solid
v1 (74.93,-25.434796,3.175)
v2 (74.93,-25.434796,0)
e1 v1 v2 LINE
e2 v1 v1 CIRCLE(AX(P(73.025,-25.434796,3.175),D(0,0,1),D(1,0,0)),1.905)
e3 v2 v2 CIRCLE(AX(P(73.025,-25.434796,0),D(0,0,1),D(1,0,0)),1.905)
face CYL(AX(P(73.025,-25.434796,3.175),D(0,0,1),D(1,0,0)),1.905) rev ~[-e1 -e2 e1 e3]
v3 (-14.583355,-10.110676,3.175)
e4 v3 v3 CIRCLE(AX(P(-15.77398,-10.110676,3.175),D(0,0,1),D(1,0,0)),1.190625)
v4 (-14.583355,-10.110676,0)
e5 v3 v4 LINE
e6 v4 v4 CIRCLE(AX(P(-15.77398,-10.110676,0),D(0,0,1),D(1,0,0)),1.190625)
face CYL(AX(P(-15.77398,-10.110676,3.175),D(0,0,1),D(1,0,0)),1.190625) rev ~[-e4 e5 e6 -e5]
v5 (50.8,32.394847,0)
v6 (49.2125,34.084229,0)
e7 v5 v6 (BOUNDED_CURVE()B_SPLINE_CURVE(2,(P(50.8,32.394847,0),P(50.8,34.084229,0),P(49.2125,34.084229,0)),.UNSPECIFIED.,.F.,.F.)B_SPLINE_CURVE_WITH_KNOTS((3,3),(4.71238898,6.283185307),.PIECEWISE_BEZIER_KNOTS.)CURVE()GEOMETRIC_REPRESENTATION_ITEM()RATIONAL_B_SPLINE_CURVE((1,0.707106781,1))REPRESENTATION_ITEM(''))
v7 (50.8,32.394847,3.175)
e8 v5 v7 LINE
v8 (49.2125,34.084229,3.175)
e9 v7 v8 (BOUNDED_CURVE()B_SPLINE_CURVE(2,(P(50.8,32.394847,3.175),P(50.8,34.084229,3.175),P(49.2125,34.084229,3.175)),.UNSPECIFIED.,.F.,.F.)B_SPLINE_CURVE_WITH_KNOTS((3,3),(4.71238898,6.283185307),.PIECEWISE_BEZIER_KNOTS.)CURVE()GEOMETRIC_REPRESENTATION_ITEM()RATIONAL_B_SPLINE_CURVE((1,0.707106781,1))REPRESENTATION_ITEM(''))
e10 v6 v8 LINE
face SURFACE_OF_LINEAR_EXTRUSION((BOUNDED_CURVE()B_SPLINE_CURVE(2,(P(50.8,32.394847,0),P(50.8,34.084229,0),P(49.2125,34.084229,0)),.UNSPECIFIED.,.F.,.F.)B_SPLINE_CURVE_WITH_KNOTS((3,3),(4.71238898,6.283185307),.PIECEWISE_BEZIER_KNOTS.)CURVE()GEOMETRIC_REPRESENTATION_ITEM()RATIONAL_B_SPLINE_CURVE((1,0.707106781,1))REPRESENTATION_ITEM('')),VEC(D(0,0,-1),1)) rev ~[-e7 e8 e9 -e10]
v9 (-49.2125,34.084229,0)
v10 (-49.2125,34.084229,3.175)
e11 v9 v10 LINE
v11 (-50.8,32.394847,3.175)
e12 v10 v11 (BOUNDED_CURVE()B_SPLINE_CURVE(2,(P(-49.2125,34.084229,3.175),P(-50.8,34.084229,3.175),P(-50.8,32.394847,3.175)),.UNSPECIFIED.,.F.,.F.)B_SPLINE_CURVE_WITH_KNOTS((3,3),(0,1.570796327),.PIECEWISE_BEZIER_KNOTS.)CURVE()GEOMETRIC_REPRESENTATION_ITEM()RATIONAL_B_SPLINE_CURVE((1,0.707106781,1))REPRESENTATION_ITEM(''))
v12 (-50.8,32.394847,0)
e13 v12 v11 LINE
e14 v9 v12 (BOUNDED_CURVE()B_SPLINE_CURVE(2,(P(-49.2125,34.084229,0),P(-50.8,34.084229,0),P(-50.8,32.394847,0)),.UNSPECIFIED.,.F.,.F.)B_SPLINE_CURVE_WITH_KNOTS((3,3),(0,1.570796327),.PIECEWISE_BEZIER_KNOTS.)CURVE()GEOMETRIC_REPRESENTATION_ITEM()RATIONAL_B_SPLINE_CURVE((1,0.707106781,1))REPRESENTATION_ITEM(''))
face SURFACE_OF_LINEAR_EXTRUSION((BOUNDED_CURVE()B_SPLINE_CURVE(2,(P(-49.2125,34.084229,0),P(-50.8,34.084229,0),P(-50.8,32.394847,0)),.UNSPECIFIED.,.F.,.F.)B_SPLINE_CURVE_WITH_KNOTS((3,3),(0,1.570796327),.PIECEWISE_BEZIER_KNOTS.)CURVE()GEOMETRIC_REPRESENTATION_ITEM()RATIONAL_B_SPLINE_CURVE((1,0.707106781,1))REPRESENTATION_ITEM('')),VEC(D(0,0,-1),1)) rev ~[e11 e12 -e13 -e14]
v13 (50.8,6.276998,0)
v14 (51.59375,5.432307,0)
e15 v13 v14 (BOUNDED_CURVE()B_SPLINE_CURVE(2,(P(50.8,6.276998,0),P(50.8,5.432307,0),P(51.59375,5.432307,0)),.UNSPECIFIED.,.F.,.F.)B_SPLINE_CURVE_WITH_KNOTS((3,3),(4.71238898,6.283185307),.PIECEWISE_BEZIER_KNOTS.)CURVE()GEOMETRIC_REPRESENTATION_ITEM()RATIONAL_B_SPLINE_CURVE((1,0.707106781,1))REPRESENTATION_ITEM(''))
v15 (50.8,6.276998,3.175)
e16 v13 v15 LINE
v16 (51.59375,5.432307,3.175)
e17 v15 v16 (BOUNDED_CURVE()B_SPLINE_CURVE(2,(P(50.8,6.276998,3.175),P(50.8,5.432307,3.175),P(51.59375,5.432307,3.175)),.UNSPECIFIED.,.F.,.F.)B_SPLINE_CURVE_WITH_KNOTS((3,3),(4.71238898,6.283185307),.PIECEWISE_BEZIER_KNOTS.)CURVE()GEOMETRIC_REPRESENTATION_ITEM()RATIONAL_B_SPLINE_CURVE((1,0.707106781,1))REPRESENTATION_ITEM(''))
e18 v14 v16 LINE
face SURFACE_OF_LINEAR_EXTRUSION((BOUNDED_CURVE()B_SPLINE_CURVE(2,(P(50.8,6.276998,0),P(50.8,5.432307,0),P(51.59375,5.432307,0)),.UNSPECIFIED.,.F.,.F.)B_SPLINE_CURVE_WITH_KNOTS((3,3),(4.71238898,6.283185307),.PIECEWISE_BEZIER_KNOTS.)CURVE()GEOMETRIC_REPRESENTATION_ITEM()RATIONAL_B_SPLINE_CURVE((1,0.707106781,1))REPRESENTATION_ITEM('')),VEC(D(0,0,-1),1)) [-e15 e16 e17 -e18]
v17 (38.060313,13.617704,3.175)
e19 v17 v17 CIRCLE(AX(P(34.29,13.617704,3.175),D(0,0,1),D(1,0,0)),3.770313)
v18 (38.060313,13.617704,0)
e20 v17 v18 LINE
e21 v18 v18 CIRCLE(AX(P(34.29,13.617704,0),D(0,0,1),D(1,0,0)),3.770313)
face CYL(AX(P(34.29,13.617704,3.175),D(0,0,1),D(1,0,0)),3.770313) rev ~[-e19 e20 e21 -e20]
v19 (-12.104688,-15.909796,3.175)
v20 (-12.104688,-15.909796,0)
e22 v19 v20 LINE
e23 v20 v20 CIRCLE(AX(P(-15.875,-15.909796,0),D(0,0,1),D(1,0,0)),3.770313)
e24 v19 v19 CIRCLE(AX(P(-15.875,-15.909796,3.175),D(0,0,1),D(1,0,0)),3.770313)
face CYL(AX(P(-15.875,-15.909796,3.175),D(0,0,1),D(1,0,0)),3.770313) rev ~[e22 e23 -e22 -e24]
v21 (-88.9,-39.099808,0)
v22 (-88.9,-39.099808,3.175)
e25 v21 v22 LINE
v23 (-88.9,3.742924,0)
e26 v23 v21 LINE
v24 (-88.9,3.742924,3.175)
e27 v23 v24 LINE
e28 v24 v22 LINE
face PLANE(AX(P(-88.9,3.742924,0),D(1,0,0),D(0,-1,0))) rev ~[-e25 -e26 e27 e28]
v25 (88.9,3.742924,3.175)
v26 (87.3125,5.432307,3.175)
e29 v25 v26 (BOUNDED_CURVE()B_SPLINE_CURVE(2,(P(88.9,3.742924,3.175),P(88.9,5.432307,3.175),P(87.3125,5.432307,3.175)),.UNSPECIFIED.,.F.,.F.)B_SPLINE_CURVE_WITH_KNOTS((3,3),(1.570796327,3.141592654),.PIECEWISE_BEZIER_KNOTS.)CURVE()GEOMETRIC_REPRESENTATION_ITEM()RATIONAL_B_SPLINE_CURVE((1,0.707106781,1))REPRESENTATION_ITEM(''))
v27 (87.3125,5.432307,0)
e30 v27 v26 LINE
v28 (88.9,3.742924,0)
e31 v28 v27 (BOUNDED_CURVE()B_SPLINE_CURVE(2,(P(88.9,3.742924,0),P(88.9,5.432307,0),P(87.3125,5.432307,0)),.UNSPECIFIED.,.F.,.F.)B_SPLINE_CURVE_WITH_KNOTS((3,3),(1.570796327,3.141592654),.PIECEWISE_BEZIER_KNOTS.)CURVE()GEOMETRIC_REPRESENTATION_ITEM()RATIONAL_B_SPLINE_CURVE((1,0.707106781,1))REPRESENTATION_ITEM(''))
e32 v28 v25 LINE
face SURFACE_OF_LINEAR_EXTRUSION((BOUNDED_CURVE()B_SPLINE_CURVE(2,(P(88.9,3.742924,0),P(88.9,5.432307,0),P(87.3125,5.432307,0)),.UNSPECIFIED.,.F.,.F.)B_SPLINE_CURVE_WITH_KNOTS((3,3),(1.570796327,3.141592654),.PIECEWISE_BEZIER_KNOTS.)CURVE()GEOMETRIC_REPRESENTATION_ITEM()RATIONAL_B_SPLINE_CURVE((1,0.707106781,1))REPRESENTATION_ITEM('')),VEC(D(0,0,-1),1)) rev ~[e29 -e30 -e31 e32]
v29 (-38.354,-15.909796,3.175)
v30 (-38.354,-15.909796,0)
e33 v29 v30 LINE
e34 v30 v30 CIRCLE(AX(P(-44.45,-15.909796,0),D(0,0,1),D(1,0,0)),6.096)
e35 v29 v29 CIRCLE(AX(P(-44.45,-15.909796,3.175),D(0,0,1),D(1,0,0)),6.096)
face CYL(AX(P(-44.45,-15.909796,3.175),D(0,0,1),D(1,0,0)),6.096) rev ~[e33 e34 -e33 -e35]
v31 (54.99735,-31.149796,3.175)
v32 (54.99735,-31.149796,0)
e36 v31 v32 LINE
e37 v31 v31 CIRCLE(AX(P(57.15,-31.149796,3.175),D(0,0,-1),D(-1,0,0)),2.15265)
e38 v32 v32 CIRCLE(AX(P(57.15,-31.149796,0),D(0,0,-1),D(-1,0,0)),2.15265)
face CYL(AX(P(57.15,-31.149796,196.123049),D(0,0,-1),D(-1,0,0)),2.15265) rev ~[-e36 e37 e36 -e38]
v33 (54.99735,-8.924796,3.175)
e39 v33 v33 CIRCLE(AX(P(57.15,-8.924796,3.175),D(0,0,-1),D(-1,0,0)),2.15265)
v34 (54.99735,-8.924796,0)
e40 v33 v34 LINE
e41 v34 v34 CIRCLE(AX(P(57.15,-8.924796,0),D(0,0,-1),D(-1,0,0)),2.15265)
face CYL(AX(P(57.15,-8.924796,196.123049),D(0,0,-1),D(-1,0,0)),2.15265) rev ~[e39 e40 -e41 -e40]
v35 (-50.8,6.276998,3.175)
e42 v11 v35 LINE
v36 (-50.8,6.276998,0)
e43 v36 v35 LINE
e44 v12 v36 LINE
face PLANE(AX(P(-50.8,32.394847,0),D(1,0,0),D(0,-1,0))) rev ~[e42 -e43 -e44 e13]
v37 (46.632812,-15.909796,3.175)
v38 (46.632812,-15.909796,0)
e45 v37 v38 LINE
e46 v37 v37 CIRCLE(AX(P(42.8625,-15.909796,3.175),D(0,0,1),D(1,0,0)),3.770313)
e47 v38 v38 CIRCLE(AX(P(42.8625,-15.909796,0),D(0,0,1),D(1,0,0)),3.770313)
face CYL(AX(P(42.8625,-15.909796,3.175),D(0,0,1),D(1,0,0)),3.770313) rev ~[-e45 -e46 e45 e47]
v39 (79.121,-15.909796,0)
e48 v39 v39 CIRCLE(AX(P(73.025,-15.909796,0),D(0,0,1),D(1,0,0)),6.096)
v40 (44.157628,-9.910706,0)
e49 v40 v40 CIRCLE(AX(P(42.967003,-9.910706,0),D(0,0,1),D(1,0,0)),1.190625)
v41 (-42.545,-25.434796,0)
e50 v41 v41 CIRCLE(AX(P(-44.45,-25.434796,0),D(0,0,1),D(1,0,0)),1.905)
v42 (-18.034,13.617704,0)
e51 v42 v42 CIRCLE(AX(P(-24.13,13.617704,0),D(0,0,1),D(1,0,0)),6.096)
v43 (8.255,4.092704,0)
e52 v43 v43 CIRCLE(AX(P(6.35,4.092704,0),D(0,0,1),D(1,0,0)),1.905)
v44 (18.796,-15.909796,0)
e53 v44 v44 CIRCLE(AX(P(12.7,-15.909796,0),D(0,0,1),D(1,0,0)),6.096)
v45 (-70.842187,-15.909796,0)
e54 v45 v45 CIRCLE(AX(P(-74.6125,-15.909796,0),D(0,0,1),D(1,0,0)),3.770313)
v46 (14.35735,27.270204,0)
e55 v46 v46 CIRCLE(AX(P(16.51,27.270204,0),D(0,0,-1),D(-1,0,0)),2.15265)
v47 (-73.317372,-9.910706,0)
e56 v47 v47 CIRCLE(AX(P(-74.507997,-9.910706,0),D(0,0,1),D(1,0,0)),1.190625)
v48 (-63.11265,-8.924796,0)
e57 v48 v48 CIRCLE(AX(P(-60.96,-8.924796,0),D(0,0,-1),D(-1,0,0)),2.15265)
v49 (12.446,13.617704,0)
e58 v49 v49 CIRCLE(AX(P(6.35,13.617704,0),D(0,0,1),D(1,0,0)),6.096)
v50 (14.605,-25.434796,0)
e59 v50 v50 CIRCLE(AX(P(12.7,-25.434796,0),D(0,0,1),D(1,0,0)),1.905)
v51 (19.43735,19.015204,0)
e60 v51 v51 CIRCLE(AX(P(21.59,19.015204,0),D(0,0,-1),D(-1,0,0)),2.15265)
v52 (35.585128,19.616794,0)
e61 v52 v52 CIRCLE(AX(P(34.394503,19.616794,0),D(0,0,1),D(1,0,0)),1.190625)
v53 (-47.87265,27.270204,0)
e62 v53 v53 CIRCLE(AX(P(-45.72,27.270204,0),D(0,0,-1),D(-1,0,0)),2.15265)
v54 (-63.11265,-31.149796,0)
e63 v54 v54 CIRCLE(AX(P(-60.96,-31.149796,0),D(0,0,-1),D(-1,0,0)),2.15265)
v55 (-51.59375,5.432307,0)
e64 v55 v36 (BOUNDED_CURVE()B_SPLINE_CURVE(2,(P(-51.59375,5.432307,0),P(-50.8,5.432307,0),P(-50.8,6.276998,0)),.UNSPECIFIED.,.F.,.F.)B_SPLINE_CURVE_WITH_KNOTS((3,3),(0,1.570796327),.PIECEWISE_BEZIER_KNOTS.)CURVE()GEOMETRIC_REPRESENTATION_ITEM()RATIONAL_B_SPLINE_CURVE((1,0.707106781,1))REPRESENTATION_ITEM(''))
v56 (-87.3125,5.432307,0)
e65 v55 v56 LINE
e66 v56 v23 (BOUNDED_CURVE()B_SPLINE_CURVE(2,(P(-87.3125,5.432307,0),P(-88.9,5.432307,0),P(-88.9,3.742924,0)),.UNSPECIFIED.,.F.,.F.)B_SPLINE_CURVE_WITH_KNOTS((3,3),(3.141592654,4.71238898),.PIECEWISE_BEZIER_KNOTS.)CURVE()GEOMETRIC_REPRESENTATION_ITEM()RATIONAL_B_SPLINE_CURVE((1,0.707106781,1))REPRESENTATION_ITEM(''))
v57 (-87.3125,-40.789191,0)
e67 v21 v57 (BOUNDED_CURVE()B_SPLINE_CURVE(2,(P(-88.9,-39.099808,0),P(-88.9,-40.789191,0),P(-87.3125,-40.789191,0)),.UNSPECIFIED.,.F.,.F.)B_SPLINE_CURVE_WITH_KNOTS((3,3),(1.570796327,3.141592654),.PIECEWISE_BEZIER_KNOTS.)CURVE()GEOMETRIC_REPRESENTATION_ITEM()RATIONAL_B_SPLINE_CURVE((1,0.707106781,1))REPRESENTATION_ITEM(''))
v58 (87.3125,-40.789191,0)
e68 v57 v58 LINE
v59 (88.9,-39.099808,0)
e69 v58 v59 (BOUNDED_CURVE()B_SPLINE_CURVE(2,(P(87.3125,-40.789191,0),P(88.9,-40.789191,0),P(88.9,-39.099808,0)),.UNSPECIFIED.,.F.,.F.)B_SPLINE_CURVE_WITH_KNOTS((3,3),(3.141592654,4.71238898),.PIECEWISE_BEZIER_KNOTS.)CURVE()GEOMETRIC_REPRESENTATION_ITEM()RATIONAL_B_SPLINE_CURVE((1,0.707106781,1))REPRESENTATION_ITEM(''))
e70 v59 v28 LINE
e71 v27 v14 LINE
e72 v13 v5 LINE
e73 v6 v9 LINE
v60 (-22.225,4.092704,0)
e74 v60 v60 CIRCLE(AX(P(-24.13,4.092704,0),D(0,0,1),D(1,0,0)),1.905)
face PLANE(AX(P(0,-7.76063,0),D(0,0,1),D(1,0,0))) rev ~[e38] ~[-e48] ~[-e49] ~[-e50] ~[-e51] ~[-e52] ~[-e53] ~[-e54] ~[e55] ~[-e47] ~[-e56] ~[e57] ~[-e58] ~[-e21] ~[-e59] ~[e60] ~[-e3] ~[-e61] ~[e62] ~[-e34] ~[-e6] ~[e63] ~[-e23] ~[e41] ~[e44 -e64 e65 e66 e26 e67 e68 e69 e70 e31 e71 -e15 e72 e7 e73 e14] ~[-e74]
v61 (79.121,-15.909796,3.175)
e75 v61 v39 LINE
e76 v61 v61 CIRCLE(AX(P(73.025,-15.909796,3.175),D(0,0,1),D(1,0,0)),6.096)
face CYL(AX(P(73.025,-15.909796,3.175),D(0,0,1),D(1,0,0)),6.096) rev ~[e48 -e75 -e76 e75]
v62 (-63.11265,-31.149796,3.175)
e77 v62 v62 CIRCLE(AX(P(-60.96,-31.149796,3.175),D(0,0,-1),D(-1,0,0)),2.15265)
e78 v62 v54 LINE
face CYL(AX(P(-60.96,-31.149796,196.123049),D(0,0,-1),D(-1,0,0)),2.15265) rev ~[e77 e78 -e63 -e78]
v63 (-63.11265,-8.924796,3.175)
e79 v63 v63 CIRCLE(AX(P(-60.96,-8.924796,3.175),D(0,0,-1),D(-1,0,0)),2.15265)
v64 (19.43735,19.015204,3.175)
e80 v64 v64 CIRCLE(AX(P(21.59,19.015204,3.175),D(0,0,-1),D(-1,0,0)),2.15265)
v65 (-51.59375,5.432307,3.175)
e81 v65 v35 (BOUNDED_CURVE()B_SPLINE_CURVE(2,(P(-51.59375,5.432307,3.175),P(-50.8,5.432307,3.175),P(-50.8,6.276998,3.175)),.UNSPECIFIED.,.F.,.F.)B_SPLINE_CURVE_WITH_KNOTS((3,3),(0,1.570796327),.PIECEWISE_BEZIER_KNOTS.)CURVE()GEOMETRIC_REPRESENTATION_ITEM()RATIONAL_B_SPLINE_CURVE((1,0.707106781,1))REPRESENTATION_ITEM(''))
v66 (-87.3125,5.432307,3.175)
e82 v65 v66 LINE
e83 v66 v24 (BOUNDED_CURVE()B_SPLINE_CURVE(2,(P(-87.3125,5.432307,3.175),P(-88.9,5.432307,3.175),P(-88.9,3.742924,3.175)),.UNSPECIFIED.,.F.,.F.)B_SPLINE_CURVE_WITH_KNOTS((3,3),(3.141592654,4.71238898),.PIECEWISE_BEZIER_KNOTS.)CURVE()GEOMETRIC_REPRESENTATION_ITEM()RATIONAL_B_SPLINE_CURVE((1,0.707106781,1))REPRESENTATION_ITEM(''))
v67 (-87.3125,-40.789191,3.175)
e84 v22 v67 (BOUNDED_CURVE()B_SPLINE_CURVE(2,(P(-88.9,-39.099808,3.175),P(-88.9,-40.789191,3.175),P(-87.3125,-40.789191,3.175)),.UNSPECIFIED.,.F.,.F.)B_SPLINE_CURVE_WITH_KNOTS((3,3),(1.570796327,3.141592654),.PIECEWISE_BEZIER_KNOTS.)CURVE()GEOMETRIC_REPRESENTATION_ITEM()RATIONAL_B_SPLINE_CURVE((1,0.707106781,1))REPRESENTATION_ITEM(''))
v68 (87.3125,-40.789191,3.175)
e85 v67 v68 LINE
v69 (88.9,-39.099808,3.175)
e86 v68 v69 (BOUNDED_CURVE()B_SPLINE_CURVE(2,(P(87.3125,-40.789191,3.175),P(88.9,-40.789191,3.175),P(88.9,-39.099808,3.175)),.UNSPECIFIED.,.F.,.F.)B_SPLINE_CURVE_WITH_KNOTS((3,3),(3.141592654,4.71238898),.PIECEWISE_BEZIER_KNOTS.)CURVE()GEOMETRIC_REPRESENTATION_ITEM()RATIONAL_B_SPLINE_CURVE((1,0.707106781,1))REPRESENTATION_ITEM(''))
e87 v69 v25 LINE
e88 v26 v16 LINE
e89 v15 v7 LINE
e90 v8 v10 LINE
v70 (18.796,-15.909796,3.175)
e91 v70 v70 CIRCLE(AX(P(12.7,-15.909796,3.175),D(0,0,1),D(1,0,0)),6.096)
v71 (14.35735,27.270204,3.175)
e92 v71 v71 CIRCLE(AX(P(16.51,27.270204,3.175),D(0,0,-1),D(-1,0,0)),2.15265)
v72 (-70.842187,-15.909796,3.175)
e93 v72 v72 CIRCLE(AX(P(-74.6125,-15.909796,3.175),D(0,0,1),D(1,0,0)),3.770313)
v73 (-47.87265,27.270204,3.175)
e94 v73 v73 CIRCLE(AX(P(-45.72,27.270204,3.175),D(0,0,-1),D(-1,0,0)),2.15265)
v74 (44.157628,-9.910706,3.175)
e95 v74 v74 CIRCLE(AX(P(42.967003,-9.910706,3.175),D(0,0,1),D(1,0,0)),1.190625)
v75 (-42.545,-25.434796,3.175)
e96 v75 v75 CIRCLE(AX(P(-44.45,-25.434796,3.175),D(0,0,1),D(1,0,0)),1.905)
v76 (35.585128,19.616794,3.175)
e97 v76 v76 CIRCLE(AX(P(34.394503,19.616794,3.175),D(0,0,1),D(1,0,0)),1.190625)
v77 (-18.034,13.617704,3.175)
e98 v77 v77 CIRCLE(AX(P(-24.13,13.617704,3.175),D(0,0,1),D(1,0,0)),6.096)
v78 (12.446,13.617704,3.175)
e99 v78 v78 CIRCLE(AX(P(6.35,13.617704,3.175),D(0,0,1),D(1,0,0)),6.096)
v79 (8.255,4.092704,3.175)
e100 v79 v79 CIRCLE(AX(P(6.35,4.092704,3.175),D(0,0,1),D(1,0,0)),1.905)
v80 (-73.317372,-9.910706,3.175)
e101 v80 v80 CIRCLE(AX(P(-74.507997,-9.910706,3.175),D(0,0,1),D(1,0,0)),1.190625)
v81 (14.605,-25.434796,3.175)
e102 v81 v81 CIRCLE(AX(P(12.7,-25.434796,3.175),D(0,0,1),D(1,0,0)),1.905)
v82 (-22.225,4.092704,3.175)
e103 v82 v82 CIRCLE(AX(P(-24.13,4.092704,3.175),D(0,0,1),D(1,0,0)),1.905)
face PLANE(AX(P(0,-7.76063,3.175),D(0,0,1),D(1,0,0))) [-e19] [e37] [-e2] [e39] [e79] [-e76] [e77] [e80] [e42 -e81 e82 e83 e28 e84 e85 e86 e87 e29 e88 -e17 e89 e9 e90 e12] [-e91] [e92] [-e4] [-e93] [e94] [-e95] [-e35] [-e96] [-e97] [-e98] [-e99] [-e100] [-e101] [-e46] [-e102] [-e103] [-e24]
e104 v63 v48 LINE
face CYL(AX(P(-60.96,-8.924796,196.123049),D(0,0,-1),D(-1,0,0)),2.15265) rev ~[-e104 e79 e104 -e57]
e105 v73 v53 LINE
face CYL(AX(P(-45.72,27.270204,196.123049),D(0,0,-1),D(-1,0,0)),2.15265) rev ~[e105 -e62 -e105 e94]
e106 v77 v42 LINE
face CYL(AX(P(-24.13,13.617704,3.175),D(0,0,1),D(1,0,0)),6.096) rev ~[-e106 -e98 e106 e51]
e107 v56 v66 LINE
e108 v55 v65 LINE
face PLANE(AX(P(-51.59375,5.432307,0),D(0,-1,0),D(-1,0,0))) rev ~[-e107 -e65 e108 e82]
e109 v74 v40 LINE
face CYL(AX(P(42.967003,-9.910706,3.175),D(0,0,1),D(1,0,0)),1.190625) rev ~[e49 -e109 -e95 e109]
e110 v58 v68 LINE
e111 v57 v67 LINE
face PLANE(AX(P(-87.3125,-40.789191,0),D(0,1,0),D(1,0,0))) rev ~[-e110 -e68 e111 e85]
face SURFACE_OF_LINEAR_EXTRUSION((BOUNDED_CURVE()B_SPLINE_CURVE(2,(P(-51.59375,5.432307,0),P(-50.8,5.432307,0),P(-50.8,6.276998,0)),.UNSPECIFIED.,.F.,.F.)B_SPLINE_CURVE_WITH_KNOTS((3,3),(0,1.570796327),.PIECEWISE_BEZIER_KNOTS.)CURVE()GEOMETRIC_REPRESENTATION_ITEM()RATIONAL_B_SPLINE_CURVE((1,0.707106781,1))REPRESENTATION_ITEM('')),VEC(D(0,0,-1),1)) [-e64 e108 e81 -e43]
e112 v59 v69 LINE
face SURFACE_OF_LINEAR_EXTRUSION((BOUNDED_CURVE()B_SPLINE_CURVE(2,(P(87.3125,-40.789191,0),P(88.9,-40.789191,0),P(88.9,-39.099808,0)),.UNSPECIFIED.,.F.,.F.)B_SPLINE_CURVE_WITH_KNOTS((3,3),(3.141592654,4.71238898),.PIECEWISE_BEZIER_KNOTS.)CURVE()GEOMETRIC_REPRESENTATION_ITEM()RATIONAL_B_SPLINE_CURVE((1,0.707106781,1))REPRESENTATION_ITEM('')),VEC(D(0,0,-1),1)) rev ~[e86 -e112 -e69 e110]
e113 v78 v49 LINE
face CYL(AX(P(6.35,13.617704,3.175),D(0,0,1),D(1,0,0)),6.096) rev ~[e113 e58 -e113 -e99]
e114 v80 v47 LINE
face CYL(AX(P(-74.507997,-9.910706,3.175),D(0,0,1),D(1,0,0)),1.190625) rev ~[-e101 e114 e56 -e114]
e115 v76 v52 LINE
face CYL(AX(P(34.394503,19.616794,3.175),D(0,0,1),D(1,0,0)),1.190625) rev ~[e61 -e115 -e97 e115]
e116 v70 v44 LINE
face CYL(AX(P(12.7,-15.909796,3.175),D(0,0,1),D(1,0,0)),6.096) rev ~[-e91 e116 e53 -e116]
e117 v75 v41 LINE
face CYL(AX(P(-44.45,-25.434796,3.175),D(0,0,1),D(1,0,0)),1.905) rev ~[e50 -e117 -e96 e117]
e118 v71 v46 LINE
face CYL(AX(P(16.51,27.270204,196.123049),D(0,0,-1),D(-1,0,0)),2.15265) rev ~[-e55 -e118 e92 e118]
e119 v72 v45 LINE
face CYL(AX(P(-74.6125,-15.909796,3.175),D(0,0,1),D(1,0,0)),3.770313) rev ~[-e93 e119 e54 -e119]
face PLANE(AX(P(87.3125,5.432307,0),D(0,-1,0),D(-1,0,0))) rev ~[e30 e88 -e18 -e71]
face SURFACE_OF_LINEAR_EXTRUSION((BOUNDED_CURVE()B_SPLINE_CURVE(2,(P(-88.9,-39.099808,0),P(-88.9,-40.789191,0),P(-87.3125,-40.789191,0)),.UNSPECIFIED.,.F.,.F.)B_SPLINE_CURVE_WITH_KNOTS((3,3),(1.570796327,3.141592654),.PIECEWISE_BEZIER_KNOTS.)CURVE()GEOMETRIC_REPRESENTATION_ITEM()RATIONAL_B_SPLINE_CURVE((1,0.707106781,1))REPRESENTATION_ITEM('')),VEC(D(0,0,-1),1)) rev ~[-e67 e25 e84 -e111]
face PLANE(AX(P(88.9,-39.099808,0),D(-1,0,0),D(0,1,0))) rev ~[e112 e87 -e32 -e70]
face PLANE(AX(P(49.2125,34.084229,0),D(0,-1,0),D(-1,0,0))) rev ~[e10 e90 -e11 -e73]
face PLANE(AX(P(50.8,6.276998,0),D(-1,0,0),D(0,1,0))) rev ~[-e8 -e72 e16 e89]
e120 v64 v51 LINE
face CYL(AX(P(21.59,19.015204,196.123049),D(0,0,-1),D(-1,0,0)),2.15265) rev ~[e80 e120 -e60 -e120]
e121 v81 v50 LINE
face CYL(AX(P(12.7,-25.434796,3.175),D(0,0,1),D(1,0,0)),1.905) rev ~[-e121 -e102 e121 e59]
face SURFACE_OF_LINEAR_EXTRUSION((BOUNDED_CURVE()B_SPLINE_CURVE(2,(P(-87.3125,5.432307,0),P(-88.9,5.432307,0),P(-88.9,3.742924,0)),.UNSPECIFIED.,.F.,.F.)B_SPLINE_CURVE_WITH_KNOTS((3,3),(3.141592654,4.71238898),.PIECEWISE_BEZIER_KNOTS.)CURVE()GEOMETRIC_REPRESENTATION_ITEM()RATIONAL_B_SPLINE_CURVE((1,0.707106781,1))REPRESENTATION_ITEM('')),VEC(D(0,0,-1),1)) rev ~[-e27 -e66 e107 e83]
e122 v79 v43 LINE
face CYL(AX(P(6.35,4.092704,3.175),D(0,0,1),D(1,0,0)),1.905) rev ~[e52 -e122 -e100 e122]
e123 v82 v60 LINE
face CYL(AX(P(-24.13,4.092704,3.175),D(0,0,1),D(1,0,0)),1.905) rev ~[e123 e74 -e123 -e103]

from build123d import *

# Parameters (mm, degrees)
BOSS_EXTRUDE1_DEPTH   = 3.175
SKETCH2_R             = 3.7703125
CUT_EXTRUDE1_DEPTH    = 4.1750001
SKETCH4_R             = 6.096
SKETCH4_R_2           = 1.905
CUT_EXTRUDE2_DEPTH    = 4.1750001
F_6_CLEARANCE_HOLE1_D = 4.3053
SKETCH7_R             = 1.190625
CUT_EXTRUDE3_DEPTH    = 4.1750001


with BuildPart() as part:
    # Sketch1 → Boss-Extrude1 (new body)
    with BuildSketch(Plane.XY):
        with BuildLine():
            Line((-51.59375, 5.432306697), (-87.3125, 5.432306697))
            add(Edge.make_bspline(
                [(-87.3125, 5.432306697), (-88.9, 5.432306697), (-88.9, 3.742924483)],
                knots=[3.141592654, 3.141592654, 3.141592654, 4.71238898, 4.71238898, 4.71238898], degree=2, weights=[1, 0.707106781, 1]))
            Line((-88.9, 3.742924483), (-88.9, -39.099808459))
            add(Edge.make_bspline(
                [(-88.9, -39.099808459), (-88.9, -40.789190673), (-87.3125, -40.789190673)],
                knots=[1.570796327, 1.570796327, 1.570796327, 3.141592654, 3.141592654, 3.141592654], degree=2, weights=[1, 0.707106781, 1]))
            Line((-87.3125, -40.789190673), (87.3125, -40.789190673))
            add(Edge.make_bspline(
                [(87.3125, -40.789190673), (88.9, -40.789190673), (88.9, -39.099808459)],
                knots=[3.141592654, 3.141592654, 3.141592654, 4.71238898, 4.71238898, 4.71238898], degree=2, weights=[1, 0.707106781, 1]))
            Line((88.9, -39.099808459), (88.9, 3.742924483))
            add(Edge.make_bspline(
                [(88.9, 3.742924483), (88.9, 5.432306697), (87.3125, 5.432306697)],
                knots=[1.570796327, 1.570796327, 1.570796327, 3.141592654, 3.141592654, 3.141592654], degree=2, weights=[1, 0.707106781, 1]))
            Line((87.3125, 5.432306697), (51.59375, 5.432306697))
            add(Edge.make_bspline(
                [(50.8, 6.276997804), (50.8, 5.432306697), (51.59375, 5.432306697)],
                knots=[4.71238898, 4.71238898, 4.71238898, 6.283185307, 6.283185307, 6.283185307], degree=2, weights=[1, 0.707106781, 1]))
            Line((50.8, 6.276997804), (50.8, 32.394846829))
            add(Edge.make_bspline(
                [(50.8, 32.394846829), (50.8, 34.084229043), (49.2125, 34.084229043)],
                knots=[4.71238898, 4.71238898, 4.71238898, 6.283185307, 6.283185307, 6.283185307], degree=2, weights=[1, 0.707106781, 1]))
            Line((49.2125, 34.084229043), (-49.2125, 34.084229043))
            add(Edge.make_bspline(
                [(-49.2125, 34.084229043), (-50.8, 34.084229043), (-50.8, 32.394846829)],
                knots=[0, 0, 0, 1.570796327, 1.570796327, 1.570796327], degree=2, weights=[1, 0.707106781, 1]))
            Line((-50.8, 32.394846829), (-50.8, 6.276997804))
            add(Edge.make_bspline(
                [(-51.59375, 5.432306697), (-50.8, 5.432306697), (-50.8, 6.276997804)],
                knots=[0, 0, 0, 1.570796327, 1.570796327, 1.570796327], degree=2, weights=[1, 0.707106781, 1]))
        make_face()
    extrude(amount=BOSS_EXTRUDE1_DEPTH)

    # Sketch2 → Cut-Extrude1 (cut, through all)
    with BuildSketch(Plane.XY.offset(3.175)):
        with Locations((42.8625, -15.909796167)):
            Circle(SKETCH2_R)
        with Locations((-15.875, -15.909796167)):
            Circle(SKETCH2_R)
        with Locations((-74.6125, -15.909796167)):
            Circle(SKETCH2_R)
        with Locations((34.29, 13.617703833)):
            Circle(SKETCH2_R)
    extrude(amount=-CUT_EXTRUDE1_DEPTH, mode=Mode.SUBTRACT)

    # Sketch4 → Cut-Extrude2 (cut, through all)
    with BuildSketch(Plane.XY.offset(3.175)):
        with Locations((73.025, -15.909796167)):
            Circle(SKETCH4_R)
        with Locations((12.7, -15.909796167)):
            Circle(SKETCH4_R)
        with Locations((-44.45, -15.909796167)):
            Circle(SKETCH4_R)
        with Locations((-24.13, 13.617703833)):
            Circle(SKETCH4_R)
        with Locations((6.35, 13.617703833)):
            Circle(SKETCH4_R)
        with Locations((73.025, -25.434796167)):
            Circle(SKETCH4_R_2)
        with Locations((12.7, -25.434796167)):
            Circle(SKETCH4_R_2)
        with Locations((-44.45, -25.434796167)):
            Circle(SKETCH4_R_2)
        with Locations((6.35, 4.092703833)):
            Circle(SKETCH4_R_2)
        with Locations((-24.13, 4.092703833)):
            Circle(SKETCH4_R_2)
    extrude(amount=-CUT_EXTRUDE2_DEPTH, mode=Mode.SUBTRACT)

    # #6 Clearance Hole1 (through all)
    with Locations(Plane.XY.offset(3.175)):
        with Locations((-45.72, 27.270203833), (16.51, 27.270203833), (21.59, 19.015203833), (57.15, -8.924796167), (57.15, -31.149796167), (-60.96, -31.149796167), (-60.96, -8.924796167)):
            Hole(F_6_CLEARANCE_HOLE1_D / 2)

    # Sketch7 → Cut-Extrude3 (cut, through all)
    with BuildSketch(Plane.XY.offset(3.175)):
        with Locations((42.967003171, -9.910706312)):
            Circle(SKETCH7_R)
        with Locations((-15.773980268, -10.110675974)):
            Circle(SKETCH7_R)
        with Locations((-74.507996829, -9.910706312)):
            Circle(SKETCH7_R)
        with Locations((34.394503171, 19.616793688)):
            Circle(SKETCH7_R)
    extrude(amount=-CUT_EXTRUDE3_DEPTH, mode=Mode.SUBTRACT)


solid = part.part
